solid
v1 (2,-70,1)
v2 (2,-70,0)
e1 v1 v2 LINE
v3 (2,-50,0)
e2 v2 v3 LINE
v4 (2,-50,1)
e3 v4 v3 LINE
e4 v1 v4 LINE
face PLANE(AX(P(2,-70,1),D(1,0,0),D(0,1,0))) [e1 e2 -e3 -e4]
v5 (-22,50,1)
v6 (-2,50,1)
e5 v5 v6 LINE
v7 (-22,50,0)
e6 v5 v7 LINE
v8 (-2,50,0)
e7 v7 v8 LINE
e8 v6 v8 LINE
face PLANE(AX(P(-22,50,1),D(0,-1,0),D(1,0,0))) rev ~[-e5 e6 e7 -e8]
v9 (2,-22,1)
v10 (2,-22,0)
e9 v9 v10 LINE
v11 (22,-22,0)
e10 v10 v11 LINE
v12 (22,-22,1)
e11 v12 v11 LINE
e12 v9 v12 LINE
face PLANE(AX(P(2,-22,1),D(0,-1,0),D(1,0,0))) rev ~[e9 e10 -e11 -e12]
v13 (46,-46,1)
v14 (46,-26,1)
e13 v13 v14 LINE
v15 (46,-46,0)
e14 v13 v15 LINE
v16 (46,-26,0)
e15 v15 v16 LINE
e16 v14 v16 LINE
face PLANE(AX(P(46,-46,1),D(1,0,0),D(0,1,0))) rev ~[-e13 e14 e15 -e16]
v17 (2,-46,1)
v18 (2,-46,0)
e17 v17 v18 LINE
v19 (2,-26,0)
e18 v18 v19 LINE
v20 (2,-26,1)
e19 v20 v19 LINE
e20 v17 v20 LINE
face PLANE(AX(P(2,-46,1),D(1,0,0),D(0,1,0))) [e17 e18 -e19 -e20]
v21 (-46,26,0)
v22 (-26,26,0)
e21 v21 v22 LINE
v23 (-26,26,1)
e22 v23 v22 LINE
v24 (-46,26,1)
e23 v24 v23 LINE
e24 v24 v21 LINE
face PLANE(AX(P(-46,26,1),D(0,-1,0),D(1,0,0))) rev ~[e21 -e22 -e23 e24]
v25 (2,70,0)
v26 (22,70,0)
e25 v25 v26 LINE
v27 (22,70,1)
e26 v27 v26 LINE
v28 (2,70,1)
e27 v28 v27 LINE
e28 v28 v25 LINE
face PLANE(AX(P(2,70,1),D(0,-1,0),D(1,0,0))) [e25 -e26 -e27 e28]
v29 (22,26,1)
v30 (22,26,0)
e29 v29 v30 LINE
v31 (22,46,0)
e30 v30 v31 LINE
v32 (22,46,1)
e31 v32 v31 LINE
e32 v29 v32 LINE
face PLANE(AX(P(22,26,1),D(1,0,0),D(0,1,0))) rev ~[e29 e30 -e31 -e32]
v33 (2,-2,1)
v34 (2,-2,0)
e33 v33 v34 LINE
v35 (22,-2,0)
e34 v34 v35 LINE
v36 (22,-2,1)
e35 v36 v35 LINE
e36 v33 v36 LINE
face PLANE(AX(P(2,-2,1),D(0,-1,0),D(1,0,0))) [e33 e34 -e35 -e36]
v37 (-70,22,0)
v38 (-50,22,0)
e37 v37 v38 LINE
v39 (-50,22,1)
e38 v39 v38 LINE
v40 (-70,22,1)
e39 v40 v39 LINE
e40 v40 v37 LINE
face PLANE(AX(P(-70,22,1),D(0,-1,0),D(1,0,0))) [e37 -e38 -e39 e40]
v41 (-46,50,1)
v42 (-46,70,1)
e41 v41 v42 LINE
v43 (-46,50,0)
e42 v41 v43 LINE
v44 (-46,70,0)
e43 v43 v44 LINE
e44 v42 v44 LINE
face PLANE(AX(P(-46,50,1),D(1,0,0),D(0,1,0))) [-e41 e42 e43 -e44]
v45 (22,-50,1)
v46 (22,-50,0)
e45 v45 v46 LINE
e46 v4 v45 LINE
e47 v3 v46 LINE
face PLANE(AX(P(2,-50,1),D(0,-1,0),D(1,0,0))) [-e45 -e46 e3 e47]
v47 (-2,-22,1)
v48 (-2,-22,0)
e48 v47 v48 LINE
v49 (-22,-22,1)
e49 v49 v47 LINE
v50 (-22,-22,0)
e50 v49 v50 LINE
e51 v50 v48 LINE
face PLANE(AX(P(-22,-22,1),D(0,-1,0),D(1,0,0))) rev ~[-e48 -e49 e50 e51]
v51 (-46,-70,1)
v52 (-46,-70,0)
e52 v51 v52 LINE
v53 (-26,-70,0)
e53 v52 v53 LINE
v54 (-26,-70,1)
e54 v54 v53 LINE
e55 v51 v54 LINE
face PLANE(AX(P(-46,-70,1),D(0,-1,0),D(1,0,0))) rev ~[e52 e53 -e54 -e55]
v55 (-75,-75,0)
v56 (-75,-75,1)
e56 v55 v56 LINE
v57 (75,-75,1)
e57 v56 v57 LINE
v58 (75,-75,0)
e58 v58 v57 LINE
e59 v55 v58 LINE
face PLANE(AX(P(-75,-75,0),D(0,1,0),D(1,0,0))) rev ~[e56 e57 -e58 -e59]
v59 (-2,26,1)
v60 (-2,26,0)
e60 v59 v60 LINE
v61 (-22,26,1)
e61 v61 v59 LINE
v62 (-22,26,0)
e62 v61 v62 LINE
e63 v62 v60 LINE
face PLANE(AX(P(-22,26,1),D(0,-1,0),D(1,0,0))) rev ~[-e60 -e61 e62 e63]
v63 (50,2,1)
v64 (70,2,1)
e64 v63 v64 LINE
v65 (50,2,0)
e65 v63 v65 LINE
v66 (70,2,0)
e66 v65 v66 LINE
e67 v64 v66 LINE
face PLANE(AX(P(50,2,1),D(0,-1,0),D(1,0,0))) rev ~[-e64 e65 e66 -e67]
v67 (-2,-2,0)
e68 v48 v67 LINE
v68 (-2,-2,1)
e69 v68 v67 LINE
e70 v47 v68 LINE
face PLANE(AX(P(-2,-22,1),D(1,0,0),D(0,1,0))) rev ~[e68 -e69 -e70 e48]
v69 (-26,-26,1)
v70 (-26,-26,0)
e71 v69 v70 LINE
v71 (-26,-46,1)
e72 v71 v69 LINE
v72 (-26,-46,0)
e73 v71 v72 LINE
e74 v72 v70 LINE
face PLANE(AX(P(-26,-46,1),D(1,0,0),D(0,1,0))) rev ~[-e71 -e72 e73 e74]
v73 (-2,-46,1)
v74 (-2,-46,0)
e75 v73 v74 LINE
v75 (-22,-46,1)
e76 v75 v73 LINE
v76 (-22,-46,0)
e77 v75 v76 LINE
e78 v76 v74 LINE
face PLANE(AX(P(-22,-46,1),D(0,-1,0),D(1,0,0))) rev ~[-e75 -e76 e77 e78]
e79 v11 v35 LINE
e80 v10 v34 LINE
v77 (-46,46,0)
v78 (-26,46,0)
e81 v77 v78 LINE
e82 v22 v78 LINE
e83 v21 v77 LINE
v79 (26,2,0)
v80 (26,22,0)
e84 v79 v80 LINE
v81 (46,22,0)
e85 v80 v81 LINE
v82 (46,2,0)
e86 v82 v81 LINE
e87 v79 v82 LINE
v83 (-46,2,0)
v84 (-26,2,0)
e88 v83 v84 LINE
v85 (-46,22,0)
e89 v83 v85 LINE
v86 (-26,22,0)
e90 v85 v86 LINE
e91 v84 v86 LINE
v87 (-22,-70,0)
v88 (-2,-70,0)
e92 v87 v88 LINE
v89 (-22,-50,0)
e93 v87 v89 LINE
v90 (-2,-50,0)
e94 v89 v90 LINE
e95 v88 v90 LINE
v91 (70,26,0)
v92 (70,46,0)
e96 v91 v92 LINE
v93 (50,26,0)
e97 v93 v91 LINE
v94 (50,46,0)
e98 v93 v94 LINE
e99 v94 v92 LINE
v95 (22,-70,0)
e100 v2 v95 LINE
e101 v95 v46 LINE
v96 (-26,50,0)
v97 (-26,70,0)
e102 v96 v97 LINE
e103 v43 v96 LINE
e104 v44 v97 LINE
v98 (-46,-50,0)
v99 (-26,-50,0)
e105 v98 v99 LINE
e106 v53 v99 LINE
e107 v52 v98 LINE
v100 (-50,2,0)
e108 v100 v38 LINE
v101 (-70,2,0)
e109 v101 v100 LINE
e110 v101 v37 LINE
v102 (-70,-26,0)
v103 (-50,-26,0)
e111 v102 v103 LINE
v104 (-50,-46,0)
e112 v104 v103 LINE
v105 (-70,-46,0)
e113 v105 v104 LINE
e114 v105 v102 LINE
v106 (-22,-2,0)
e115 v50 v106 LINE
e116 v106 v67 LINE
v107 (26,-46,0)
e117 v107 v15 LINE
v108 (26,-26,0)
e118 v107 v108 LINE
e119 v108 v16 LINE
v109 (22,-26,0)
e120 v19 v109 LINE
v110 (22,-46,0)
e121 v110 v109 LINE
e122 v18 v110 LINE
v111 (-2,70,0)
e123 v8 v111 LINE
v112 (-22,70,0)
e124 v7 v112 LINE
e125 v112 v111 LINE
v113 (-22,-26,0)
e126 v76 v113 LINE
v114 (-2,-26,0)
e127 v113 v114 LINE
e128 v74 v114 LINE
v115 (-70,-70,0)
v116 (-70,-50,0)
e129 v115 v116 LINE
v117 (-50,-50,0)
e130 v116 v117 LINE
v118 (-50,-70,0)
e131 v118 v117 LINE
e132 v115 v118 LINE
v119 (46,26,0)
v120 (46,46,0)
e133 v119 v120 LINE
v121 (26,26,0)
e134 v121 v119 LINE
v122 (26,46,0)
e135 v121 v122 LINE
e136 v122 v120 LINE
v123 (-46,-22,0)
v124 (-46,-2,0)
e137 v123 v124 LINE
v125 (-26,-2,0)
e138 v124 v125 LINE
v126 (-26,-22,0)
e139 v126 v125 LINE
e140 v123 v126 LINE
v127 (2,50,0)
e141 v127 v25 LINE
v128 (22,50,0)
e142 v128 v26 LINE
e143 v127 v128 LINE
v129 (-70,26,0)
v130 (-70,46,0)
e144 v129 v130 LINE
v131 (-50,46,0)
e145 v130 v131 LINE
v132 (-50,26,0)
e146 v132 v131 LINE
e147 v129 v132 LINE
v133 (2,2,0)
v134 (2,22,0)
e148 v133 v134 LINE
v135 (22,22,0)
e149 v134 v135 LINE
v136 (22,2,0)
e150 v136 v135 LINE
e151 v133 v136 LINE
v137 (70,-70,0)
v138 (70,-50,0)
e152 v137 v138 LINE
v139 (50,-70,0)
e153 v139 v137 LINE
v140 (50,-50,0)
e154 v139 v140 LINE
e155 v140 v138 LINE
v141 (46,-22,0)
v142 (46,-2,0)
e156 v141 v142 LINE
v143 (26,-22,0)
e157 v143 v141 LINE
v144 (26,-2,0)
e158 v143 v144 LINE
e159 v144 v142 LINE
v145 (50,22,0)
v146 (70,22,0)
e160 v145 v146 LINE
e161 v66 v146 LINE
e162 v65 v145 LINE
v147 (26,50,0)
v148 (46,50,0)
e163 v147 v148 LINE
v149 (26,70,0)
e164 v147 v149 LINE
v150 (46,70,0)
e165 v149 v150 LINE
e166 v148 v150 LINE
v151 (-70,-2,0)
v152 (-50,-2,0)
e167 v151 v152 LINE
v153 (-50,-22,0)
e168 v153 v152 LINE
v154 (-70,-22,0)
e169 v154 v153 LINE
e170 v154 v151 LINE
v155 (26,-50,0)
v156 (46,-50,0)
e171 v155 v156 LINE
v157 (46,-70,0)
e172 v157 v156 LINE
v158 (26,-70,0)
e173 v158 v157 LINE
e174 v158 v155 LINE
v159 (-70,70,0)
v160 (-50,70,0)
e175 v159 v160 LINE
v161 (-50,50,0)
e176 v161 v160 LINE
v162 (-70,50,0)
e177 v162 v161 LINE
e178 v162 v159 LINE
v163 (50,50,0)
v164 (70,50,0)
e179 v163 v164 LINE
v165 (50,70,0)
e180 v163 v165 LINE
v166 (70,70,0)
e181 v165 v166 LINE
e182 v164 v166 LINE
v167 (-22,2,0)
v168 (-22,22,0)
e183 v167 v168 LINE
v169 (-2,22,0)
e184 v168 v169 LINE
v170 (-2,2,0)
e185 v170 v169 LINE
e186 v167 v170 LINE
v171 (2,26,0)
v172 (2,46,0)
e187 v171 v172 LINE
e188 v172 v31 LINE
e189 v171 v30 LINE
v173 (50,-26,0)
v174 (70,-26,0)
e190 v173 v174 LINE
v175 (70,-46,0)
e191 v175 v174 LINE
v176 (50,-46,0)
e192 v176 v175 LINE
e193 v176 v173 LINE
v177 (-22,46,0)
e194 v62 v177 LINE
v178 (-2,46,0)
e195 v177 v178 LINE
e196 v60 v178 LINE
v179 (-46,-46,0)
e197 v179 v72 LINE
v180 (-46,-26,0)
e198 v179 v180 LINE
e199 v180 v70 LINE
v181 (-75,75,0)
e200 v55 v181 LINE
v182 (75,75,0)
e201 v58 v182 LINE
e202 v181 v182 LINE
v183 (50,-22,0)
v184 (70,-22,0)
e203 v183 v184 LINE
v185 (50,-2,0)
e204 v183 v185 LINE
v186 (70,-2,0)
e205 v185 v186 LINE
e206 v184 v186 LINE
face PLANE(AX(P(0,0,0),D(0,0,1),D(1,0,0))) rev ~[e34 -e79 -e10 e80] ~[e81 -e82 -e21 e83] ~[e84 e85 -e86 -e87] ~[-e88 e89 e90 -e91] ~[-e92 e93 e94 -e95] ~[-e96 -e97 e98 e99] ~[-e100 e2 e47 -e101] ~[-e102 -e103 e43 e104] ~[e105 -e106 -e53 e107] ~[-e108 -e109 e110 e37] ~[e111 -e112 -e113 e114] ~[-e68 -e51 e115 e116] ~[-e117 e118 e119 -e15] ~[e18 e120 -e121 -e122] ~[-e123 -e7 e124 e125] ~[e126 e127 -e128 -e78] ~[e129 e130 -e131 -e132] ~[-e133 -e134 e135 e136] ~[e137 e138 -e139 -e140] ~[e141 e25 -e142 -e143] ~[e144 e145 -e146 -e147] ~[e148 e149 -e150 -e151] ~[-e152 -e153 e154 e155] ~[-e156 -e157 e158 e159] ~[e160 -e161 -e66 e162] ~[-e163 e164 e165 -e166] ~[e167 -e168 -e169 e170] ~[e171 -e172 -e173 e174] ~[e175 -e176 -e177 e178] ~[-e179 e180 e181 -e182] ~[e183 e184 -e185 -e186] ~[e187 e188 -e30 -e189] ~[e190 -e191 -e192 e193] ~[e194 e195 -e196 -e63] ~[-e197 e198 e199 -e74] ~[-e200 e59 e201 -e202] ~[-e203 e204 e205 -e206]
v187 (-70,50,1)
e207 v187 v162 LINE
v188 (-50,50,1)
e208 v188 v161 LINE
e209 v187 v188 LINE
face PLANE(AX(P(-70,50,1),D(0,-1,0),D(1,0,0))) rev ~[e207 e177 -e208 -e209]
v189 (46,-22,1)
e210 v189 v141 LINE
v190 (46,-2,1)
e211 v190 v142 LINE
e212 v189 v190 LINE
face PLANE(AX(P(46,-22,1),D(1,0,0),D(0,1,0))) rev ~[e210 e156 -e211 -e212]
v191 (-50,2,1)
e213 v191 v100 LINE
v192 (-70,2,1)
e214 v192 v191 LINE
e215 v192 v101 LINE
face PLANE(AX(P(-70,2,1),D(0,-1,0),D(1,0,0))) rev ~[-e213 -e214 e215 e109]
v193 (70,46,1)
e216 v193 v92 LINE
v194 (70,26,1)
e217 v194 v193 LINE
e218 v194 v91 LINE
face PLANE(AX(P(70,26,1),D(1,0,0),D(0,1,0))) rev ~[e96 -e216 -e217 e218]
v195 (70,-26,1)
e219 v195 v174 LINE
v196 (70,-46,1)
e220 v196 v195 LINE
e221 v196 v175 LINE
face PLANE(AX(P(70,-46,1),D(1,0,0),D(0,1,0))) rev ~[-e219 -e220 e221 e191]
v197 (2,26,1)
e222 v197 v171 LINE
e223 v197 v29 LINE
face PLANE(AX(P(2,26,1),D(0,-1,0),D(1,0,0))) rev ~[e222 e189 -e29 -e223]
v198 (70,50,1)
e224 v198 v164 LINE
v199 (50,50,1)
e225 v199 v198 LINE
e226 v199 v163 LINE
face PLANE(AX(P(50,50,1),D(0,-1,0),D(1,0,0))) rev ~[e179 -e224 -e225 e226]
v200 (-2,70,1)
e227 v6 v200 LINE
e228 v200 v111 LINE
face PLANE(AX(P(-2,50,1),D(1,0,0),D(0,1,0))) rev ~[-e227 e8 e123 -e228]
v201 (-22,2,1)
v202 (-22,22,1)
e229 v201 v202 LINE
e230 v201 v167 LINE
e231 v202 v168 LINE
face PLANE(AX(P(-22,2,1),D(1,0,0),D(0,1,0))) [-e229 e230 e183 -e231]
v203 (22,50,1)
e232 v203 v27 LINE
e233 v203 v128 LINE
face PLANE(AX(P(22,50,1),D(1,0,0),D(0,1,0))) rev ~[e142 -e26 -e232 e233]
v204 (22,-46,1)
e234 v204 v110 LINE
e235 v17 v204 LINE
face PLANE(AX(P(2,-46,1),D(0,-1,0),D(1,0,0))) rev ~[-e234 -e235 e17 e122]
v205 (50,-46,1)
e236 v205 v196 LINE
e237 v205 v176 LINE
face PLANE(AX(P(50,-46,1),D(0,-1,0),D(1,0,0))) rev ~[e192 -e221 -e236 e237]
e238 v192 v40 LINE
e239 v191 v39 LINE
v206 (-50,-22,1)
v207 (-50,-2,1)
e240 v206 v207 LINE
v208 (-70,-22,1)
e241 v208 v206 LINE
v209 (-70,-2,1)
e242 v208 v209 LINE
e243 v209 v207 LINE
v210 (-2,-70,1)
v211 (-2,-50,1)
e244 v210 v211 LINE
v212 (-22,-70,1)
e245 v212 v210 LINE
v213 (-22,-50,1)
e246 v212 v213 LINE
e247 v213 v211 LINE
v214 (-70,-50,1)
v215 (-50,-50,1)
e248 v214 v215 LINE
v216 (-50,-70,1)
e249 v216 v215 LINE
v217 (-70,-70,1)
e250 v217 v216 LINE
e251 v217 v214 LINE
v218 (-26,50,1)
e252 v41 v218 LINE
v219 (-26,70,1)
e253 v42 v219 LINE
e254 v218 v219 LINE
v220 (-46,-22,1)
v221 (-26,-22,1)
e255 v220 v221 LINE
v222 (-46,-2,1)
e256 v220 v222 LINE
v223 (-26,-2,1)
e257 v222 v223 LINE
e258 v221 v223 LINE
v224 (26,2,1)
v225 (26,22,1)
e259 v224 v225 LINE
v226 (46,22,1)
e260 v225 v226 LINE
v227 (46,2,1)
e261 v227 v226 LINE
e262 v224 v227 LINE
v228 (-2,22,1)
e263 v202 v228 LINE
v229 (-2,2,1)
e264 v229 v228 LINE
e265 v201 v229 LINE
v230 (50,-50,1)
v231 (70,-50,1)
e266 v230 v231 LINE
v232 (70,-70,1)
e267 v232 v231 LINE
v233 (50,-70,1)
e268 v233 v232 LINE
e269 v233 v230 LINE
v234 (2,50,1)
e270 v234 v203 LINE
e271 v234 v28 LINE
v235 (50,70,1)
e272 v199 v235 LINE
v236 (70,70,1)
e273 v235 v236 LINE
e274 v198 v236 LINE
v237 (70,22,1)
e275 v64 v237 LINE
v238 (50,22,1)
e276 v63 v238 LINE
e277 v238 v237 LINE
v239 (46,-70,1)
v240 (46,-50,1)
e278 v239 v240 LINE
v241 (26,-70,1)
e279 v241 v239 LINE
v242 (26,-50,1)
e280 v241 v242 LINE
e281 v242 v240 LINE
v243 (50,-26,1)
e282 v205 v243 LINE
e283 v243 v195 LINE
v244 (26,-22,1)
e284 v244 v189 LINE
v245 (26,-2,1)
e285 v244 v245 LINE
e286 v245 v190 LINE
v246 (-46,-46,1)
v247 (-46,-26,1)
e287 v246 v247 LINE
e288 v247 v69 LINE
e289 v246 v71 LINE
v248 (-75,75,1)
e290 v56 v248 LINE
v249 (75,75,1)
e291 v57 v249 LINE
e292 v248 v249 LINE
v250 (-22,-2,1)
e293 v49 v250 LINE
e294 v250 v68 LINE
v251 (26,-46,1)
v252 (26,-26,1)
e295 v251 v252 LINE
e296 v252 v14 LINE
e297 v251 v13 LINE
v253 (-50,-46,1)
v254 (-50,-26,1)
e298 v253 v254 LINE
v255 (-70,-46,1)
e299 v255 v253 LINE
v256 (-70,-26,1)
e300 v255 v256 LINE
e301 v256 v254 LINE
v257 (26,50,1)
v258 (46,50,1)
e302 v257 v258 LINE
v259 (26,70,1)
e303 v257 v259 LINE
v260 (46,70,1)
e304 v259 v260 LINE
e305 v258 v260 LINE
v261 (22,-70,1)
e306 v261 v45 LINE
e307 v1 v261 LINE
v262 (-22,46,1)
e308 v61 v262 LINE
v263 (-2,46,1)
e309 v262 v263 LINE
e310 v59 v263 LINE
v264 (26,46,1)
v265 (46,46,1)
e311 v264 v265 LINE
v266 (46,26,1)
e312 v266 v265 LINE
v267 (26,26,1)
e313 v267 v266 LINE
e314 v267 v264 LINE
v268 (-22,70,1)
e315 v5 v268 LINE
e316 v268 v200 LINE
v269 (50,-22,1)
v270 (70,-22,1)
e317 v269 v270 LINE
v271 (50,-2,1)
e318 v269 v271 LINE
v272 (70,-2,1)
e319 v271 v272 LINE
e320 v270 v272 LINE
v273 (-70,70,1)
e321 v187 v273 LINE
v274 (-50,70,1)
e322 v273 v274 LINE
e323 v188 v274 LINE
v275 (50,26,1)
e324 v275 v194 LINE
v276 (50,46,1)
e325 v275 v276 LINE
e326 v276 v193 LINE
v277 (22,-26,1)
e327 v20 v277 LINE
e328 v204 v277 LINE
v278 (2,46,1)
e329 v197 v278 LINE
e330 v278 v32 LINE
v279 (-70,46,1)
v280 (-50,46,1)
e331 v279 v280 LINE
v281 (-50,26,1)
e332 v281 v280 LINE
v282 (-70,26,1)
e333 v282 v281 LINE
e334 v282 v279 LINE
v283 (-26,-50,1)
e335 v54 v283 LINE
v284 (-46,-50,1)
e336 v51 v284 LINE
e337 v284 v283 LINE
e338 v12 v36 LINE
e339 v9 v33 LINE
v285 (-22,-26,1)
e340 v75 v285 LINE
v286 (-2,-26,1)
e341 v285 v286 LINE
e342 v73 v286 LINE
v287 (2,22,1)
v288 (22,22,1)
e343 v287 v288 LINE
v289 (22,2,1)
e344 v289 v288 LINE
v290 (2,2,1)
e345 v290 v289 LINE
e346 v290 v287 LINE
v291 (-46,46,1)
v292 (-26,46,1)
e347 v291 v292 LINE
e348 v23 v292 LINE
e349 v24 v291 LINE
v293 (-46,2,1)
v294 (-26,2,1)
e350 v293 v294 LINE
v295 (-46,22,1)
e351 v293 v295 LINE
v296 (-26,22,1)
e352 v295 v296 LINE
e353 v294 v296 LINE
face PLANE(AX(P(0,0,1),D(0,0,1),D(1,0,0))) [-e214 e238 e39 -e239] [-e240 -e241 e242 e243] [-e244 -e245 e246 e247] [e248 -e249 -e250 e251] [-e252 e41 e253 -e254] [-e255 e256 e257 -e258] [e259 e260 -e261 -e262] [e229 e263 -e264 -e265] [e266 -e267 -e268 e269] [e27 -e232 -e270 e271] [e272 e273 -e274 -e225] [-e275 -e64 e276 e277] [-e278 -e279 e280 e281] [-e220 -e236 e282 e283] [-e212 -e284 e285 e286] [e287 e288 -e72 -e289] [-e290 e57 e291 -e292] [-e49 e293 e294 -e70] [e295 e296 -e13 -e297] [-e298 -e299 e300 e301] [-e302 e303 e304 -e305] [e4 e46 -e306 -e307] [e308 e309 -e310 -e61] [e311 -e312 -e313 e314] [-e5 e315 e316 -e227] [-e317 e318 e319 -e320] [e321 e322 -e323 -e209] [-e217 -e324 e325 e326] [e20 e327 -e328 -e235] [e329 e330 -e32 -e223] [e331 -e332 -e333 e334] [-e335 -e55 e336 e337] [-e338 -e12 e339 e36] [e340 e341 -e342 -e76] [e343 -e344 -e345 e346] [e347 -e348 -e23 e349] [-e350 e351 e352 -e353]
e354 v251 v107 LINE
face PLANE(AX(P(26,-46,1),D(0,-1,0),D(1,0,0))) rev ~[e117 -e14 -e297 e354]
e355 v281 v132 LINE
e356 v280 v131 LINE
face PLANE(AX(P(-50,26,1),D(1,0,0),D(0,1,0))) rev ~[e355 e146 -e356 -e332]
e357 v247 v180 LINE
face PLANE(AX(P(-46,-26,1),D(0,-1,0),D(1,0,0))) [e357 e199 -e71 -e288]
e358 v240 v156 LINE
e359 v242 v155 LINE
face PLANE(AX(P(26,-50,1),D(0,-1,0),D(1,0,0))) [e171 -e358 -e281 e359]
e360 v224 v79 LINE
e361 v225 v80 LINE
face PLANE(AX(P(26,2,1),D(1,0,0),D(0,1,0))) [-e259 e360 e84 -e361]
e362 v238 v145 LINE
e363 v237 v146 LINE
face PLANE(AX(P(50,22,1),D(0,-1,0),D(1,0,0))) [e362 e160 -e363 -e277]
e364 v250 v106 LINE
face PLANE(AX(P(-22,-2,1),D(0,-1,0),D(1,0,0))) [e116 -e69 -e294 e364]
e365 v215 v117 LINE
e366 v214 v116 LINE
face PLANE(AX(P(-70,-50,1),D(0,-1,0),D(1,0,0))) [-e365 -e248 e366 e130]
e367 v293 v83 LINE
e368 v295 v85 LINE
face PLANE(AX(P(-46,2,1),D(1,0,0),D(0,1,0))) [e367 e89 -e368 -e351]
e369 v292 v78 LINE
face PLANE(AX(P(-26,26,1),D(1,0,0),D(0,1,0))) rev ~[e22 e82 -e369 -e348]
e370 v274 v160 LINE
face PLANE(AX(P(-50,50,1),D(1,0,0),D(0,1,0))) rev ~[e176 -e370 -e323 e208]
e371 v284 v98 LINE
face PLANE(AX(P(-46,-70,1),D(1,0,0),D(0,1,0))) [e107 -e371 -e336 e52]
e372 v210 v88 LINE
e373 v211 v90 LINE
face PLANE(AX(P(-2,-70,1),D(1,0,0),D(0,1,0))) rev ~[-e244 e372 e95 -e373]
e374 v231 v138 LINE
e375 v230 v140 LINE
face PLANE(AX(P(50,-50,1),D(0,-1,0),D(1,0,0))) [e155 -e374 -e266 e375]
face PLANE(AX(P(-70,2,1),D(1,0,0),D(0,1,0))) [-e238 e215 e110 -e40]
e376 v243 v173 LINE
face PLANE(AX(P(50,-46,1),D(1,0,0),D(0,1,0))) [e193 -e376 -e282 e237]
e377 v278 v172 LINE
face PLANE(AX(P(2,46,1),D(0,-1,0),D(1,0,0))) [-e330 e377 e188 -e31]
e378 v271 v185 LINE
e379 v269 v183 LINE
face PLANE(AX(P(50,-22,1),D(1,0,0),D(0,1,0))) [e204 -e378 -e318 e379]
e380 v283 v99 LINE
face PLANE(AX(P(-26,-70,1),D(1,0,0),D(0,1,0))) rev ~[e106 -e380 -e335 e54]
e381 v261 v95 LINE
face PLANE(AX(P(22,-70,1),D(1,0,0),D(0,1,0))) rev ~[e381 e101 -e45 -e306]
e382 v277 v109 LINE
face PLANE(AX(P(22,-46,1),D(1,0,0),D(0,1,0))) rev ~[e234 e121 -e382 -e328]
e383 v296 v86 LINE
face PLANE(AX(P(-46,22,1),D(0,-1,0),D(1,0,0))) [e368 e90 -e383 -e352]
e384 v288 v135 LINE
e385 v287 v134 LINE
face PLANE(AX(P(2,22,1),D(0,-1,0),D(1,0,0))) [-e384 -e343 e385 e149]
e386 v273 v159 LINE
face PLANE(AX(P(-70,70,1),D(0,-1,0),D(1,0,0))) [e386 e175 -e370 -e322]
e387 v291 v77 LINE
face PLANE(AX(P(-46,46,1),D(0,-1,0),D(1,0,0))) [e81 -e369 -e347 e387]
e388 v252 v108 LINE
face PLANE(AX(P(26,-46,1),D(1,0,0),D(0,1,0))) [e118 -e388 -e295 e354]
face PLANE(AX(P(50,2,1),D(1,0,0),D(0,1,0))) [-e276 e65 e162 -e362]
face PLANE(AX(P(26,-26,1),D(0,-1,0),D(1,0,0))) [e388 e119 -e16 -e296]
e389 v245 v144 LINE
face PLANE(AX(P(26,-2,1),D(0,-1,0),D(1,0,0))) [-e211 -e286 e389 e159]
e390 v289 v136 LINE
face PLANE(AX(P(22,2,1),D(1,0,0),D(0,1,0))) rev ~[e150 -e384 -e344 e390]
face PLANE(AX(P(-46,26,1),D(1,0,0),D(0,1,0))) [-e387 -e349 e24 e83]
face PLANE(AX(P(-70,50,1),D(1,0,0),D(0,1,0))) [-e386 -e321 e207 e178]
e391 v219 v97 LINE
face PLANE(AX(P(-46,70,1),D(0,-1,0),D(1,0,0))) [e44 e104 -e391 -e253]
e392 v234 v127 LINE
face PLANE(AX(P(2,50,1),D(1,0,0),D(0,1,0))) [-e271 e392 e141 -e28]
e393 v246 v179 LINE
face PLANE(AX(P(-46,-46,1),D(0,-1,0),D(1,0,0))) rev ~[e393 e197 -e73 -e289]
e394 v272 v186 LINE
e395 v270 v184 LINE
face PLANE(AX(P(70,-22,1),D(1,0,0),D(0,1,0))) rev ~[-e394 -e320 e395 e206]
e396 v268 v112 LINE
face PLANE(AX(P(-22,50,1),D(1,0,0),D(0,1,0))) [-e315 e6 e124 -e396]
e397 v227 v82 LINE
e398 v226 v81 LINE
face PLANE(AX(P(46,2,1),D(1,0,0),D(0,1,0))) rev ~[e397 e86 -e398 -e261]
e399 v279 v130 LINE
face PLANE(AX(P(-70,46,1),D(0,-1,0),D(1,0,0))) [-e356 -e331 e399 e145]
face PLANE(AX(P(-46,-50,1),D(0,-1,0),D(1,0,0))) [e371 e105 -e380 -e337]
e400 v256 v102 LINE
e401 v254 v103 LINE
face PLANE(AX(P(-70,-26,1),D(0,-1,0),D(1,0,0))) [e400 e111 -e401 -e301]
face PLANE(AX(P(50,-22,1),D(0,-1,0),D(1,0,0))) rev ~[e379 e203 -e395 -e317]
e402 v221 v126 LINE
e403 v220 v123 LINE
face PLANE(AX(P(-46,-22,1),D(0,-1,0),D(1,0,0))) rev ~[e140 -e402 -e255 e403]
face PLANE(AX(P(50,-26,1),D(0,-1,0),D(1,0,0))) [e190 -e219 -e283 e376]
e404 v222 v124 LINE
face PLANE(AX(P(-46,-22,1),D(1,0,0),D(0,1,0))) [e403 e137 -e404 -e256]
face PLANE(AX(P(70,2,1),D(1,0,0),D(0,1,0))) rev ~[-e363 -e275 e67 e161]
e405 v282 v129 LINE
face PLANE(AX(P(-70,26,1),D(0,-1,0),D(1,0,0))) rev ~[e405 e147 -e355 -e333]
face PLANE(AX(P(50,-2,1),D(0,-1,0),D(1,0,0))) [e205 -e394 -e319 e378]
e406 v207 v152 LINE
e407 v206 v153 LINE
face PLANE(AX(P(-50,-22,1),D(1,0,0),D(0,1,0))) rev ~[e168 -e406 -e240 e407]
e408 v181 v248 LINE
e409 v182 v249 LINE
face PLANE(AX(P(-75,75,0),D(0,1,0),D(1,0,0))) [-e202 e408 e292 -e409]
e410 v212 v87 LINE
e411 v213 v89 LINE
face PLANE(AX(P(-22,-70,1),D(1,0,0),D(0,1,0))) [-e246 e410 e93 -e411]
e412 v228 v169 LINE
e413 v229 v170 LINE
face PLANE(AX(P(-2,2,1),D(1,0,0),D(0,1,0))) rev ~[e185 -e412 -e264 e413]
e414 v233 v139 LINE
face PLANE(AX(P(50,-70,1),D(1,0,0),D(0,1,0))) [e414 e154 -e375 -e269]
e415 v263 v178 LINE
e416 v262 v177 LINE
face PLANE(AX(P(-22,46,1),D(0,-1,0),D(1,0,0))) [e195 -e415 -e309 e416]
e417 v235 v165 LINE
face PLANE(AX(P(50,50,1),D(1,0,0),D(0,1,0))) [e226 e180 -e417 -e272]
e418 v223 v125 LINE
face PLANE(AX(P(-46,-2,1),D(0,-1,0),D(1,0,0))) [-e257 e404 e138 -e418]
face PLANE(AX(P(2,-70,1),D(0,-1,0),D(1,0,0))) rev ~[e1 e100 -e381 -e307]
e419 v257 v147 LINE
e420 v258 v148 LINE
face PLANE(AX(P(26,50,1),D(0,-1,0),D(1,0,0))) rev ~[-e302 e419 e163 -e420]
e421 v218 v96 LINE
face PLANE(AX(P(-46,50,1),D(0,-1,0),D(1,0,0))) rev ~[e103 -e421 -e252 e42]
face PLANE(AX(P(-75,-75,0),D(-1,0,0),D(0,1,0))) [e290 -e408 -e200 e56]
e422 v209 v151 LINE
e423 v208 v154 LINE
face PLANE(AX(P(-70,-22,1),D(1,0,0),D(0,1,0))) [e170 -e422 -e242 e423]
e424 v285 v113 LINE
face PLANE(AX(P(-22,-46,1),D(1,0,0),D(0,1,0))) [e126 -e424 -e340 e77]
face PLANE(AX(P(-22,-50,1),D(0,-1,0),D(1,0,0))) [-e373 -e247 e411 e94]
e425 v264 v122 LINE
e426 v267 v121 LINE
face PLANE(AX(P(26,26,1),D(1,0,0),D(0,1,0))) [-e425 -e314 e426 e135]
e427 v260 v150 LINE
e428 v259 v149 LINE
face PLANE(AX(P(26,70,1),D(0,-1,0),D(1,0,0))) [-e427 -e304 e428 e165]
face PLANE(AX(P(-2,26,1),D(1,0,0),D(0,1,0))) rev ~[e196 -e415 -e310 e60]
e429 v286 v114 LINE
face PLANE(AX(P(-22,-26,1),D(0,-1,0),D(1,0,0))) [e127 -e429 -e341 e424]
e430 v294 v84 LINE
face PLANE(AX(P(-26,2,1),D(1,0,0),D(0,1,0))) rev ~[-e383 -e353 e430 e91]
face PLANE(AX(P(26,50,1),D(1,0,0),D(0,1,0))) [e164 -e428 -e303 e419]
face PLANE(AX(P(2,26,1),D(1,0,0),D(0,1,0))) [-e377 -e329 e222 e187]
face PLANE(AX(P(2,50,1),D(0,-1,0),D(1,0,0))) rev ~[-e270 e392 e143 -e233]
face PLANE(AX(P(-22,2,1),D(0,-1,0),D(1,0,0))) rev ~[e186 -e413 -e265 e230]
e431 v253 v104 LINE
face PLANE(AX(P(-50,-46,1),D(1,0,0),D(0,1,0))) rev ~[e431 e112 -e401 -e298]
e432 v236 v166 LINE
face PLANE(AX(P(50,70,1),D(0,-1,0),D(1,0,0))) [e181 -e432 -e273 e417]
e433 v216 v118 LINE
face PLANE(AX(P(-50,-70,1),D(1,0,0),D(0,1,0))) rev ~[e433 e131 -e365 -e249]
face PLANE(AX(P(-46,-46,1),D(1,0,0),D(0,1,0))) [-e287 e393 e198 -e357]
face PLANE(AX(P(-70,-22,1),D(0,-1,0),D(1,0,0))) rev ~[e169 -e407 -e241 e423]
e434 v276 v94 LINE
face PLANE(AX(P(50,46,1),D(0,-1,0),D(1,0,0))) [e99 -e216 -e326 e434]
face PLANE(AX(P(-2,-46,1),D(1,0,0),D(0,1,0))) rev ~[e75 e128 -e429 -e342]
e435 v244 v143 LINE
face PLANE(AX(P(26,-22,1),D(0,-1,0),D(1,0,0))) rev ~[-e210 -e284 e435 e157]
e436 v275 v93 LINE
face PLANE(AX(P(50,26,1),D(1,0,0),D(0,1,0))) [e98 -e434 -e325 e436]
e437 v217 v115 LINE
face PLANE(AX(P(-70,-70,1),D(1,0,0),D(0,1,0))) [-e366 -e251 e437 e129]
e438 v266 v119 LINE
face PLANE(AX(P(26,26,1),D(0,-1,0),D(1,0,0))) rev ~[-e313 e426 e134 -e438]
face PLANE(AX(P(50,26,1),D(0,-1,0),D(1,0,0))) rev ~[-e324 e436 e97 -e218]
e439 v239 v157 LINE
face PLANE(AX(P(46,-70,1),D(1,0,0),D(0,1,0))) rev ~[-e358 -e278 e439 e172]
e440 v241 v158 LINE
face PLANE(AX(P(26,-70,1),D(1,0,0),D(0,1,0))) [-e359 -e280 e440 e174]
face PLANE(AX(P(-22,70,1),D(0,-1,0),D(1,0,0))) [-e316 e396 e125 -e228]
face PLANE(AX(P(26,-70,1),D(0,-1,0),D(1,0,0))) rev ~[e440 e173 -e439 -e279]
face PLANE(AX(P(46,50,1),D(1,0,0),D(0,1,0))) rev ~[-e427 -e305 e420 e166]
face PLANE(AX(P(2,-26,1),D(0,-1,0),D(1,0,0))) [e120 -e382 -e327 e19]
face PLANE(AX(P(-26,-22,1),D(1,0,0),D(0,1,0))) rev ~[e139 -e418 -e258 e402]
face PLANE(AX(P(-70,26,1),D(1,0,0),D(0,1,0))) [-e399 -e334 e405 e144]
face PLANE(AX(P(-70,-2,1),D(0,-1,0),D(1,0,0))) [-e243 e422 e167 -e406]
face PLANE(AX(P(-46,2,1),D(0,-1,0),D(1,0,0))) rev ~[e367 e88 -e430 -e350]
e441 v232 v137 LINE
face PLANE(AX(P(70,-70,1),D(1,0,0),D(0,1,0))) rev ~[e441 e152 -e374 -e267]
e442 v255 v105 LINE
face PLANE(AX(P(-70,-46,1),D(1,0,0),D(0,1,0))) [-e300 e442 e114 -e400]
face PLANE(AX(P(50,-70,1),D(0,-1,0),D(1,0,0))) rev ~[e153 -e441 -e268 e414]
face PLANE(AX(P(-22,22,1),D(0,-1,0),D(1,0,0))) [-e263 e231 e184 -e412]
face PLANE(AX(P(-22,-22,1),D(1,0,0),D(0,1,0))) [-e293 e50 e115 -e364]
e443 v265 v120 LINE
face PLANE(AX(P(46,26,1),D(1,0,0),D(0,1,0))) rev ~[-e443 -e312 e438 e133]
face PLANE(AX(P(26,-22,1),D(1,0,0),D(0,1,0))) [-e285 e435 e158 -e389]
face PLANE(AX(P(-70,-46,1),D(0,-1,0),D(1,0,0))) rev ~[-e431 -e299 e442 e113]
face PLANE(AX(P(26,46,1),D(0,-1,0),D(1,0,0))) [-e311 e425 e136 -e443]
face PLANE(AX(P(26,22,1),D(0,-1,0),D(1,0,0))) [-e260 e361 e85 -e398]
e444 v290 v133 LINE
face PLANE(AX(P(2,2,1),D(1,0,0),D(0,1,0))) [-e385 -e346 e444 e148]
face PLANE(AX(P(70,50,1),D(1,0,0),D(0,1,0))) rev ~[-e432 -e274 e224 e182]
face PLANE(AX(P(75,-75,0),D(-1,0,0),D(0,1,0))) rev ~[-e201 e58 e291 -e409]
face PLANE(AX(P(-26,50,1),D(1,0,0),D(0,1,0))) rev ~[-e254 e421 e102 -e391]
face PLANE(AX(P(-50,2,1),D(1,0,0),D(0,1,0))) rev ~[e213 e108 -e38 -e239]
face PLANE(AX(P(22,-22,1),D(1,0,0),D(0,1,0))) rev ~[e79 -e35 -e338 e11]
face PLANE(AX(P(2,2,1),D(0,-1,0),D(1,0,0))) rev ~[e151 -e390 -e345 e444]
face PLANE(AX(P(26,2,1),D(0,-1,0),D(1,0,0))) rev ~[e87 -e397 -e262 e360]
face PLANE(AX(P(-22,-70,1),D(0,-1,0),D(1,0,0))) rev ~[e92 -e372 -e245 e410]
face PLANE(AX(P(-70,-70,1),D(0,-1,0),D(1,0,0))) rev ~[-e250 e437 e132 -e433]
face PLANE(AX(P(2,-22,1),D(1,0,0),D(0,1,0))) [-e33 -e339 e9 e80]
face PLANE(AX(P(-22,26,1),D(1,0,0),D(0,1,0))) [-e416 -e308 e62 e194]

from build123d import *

# Parameters (mm, degrees)
F0_W     = 150
F0_H     = 150
F1_DEPTH = 1
F2_W     = 20
F2_H     = 20
F3_DEPTH = 1.001


with BuildPart() as f1:
    # F0 (on Top) → F1 (new body)
    with BuildSketch(Plane.XY):
        Rectangle(F0_W, F0_H)
    extrude(amount=F1_DEPTH)

    # F2 (on face) → F3 (cut, through all)
    with BuildSketch(Plane.XY.offset(1)):
        with Locations((-60, 60)):
            Rectangle(F2_W, F2_H)
        with Locations((-36, 60)):
            Rectangle(F2_W, F2_H)
        with Locations((-12, 60)):
            Rectangle(F2_W, F2_H)
        with Locations((12, 60)):
            Rectangle(F2_W, F2_H)
        with Locations((36, 60)):
            Rectangle(F2_W, F2_H)
        with Locations((60, 60)):
            Rectangle(F2_W, F2_H)
        with Locations((12, 36)):
            Rectangle(F2_W, F2_H)
        with Locations((60, 36)):
            Rectangle(F2_W, F2_H)
        with Locations((-36, 36)):
            Rectangle(F2_W, F2_H)
        with Locations((-60, 36)):
            Rectangle(F2_W, F2_H)
        with Locations((-12, 36)):
            Rectangle(F2_W, F2_H)
        with Locations((36, 36)):
            Rectangle(F2_W, F2_H)
        with Locations((12, 12)):
            Rectangle(F2_W, F2_H)
        with Locations((60, 12)):
            Rectangle(F2_W, F2_H)
        with Locations((-36, 12)):
            Rectangle(F2_W, F2_H)
        with Locations((-60, 12)):
            Rectangle(F2_W, F2_H)
        with Locations((-12, 12)):
            Rectangle(F2_W, F2_H)
        with Locations((36, 12)):
            Rectangle(F2_W, F2_H)
        with Locations((12, -12)):
            Rectangle(F2_W, F2_H)
        with Locations((60, -12)):
            Rectangle(F2_W, F2_H)
        with Locations((-36, -12)):
            Rectangle(F2_W, F2_H)
        with Locations((-60, -12)):
            Rectangle(F2_W, F2_H)
        with Locations((-12, -12)):
            Rectangle(F2_W, F2_H)
        with Locations((36, -12)):
            Rectangle(F2_W, F2_H)
        with Locations((12, -36)):
            Rectangle(F2_W, F2_H)
        with Locations((60, -36)):
            Rectangle(F2_W, F2_H)
        with Locations((-36, -36)):
            Rectangle(F2_W, F2_H)
        with Locations((-60, -36)):
            Rectangle(F2_W, F2_H)
        with Locations((-12, -36)):
            Rectangle(F2_W, F2_H)
        with Locations((36, -36)):
            Rectangle(F2_W, F2_H)
        with Locations((12, -60)):
            Rectangle(F2_W, F2_H)
        with Locations((60, -60)):
            Rectangle(F2_W, F2_H)
        with Locations((-36, -60)):
            Rectangle(F2_W, F2_H)
        with Locations((-60, -60)):
            Rectangle(F2_W, F2_H)
        with Locations((-12, -60)):
            Rectangle(F2_W, F2_H)
        with Locations((36, -60)):
            Rectangle(F2_W, F2_H)
    extrude(amount=-F3_DEPTH, mode=Mode.SUBTRACT)


solid = f1.part
